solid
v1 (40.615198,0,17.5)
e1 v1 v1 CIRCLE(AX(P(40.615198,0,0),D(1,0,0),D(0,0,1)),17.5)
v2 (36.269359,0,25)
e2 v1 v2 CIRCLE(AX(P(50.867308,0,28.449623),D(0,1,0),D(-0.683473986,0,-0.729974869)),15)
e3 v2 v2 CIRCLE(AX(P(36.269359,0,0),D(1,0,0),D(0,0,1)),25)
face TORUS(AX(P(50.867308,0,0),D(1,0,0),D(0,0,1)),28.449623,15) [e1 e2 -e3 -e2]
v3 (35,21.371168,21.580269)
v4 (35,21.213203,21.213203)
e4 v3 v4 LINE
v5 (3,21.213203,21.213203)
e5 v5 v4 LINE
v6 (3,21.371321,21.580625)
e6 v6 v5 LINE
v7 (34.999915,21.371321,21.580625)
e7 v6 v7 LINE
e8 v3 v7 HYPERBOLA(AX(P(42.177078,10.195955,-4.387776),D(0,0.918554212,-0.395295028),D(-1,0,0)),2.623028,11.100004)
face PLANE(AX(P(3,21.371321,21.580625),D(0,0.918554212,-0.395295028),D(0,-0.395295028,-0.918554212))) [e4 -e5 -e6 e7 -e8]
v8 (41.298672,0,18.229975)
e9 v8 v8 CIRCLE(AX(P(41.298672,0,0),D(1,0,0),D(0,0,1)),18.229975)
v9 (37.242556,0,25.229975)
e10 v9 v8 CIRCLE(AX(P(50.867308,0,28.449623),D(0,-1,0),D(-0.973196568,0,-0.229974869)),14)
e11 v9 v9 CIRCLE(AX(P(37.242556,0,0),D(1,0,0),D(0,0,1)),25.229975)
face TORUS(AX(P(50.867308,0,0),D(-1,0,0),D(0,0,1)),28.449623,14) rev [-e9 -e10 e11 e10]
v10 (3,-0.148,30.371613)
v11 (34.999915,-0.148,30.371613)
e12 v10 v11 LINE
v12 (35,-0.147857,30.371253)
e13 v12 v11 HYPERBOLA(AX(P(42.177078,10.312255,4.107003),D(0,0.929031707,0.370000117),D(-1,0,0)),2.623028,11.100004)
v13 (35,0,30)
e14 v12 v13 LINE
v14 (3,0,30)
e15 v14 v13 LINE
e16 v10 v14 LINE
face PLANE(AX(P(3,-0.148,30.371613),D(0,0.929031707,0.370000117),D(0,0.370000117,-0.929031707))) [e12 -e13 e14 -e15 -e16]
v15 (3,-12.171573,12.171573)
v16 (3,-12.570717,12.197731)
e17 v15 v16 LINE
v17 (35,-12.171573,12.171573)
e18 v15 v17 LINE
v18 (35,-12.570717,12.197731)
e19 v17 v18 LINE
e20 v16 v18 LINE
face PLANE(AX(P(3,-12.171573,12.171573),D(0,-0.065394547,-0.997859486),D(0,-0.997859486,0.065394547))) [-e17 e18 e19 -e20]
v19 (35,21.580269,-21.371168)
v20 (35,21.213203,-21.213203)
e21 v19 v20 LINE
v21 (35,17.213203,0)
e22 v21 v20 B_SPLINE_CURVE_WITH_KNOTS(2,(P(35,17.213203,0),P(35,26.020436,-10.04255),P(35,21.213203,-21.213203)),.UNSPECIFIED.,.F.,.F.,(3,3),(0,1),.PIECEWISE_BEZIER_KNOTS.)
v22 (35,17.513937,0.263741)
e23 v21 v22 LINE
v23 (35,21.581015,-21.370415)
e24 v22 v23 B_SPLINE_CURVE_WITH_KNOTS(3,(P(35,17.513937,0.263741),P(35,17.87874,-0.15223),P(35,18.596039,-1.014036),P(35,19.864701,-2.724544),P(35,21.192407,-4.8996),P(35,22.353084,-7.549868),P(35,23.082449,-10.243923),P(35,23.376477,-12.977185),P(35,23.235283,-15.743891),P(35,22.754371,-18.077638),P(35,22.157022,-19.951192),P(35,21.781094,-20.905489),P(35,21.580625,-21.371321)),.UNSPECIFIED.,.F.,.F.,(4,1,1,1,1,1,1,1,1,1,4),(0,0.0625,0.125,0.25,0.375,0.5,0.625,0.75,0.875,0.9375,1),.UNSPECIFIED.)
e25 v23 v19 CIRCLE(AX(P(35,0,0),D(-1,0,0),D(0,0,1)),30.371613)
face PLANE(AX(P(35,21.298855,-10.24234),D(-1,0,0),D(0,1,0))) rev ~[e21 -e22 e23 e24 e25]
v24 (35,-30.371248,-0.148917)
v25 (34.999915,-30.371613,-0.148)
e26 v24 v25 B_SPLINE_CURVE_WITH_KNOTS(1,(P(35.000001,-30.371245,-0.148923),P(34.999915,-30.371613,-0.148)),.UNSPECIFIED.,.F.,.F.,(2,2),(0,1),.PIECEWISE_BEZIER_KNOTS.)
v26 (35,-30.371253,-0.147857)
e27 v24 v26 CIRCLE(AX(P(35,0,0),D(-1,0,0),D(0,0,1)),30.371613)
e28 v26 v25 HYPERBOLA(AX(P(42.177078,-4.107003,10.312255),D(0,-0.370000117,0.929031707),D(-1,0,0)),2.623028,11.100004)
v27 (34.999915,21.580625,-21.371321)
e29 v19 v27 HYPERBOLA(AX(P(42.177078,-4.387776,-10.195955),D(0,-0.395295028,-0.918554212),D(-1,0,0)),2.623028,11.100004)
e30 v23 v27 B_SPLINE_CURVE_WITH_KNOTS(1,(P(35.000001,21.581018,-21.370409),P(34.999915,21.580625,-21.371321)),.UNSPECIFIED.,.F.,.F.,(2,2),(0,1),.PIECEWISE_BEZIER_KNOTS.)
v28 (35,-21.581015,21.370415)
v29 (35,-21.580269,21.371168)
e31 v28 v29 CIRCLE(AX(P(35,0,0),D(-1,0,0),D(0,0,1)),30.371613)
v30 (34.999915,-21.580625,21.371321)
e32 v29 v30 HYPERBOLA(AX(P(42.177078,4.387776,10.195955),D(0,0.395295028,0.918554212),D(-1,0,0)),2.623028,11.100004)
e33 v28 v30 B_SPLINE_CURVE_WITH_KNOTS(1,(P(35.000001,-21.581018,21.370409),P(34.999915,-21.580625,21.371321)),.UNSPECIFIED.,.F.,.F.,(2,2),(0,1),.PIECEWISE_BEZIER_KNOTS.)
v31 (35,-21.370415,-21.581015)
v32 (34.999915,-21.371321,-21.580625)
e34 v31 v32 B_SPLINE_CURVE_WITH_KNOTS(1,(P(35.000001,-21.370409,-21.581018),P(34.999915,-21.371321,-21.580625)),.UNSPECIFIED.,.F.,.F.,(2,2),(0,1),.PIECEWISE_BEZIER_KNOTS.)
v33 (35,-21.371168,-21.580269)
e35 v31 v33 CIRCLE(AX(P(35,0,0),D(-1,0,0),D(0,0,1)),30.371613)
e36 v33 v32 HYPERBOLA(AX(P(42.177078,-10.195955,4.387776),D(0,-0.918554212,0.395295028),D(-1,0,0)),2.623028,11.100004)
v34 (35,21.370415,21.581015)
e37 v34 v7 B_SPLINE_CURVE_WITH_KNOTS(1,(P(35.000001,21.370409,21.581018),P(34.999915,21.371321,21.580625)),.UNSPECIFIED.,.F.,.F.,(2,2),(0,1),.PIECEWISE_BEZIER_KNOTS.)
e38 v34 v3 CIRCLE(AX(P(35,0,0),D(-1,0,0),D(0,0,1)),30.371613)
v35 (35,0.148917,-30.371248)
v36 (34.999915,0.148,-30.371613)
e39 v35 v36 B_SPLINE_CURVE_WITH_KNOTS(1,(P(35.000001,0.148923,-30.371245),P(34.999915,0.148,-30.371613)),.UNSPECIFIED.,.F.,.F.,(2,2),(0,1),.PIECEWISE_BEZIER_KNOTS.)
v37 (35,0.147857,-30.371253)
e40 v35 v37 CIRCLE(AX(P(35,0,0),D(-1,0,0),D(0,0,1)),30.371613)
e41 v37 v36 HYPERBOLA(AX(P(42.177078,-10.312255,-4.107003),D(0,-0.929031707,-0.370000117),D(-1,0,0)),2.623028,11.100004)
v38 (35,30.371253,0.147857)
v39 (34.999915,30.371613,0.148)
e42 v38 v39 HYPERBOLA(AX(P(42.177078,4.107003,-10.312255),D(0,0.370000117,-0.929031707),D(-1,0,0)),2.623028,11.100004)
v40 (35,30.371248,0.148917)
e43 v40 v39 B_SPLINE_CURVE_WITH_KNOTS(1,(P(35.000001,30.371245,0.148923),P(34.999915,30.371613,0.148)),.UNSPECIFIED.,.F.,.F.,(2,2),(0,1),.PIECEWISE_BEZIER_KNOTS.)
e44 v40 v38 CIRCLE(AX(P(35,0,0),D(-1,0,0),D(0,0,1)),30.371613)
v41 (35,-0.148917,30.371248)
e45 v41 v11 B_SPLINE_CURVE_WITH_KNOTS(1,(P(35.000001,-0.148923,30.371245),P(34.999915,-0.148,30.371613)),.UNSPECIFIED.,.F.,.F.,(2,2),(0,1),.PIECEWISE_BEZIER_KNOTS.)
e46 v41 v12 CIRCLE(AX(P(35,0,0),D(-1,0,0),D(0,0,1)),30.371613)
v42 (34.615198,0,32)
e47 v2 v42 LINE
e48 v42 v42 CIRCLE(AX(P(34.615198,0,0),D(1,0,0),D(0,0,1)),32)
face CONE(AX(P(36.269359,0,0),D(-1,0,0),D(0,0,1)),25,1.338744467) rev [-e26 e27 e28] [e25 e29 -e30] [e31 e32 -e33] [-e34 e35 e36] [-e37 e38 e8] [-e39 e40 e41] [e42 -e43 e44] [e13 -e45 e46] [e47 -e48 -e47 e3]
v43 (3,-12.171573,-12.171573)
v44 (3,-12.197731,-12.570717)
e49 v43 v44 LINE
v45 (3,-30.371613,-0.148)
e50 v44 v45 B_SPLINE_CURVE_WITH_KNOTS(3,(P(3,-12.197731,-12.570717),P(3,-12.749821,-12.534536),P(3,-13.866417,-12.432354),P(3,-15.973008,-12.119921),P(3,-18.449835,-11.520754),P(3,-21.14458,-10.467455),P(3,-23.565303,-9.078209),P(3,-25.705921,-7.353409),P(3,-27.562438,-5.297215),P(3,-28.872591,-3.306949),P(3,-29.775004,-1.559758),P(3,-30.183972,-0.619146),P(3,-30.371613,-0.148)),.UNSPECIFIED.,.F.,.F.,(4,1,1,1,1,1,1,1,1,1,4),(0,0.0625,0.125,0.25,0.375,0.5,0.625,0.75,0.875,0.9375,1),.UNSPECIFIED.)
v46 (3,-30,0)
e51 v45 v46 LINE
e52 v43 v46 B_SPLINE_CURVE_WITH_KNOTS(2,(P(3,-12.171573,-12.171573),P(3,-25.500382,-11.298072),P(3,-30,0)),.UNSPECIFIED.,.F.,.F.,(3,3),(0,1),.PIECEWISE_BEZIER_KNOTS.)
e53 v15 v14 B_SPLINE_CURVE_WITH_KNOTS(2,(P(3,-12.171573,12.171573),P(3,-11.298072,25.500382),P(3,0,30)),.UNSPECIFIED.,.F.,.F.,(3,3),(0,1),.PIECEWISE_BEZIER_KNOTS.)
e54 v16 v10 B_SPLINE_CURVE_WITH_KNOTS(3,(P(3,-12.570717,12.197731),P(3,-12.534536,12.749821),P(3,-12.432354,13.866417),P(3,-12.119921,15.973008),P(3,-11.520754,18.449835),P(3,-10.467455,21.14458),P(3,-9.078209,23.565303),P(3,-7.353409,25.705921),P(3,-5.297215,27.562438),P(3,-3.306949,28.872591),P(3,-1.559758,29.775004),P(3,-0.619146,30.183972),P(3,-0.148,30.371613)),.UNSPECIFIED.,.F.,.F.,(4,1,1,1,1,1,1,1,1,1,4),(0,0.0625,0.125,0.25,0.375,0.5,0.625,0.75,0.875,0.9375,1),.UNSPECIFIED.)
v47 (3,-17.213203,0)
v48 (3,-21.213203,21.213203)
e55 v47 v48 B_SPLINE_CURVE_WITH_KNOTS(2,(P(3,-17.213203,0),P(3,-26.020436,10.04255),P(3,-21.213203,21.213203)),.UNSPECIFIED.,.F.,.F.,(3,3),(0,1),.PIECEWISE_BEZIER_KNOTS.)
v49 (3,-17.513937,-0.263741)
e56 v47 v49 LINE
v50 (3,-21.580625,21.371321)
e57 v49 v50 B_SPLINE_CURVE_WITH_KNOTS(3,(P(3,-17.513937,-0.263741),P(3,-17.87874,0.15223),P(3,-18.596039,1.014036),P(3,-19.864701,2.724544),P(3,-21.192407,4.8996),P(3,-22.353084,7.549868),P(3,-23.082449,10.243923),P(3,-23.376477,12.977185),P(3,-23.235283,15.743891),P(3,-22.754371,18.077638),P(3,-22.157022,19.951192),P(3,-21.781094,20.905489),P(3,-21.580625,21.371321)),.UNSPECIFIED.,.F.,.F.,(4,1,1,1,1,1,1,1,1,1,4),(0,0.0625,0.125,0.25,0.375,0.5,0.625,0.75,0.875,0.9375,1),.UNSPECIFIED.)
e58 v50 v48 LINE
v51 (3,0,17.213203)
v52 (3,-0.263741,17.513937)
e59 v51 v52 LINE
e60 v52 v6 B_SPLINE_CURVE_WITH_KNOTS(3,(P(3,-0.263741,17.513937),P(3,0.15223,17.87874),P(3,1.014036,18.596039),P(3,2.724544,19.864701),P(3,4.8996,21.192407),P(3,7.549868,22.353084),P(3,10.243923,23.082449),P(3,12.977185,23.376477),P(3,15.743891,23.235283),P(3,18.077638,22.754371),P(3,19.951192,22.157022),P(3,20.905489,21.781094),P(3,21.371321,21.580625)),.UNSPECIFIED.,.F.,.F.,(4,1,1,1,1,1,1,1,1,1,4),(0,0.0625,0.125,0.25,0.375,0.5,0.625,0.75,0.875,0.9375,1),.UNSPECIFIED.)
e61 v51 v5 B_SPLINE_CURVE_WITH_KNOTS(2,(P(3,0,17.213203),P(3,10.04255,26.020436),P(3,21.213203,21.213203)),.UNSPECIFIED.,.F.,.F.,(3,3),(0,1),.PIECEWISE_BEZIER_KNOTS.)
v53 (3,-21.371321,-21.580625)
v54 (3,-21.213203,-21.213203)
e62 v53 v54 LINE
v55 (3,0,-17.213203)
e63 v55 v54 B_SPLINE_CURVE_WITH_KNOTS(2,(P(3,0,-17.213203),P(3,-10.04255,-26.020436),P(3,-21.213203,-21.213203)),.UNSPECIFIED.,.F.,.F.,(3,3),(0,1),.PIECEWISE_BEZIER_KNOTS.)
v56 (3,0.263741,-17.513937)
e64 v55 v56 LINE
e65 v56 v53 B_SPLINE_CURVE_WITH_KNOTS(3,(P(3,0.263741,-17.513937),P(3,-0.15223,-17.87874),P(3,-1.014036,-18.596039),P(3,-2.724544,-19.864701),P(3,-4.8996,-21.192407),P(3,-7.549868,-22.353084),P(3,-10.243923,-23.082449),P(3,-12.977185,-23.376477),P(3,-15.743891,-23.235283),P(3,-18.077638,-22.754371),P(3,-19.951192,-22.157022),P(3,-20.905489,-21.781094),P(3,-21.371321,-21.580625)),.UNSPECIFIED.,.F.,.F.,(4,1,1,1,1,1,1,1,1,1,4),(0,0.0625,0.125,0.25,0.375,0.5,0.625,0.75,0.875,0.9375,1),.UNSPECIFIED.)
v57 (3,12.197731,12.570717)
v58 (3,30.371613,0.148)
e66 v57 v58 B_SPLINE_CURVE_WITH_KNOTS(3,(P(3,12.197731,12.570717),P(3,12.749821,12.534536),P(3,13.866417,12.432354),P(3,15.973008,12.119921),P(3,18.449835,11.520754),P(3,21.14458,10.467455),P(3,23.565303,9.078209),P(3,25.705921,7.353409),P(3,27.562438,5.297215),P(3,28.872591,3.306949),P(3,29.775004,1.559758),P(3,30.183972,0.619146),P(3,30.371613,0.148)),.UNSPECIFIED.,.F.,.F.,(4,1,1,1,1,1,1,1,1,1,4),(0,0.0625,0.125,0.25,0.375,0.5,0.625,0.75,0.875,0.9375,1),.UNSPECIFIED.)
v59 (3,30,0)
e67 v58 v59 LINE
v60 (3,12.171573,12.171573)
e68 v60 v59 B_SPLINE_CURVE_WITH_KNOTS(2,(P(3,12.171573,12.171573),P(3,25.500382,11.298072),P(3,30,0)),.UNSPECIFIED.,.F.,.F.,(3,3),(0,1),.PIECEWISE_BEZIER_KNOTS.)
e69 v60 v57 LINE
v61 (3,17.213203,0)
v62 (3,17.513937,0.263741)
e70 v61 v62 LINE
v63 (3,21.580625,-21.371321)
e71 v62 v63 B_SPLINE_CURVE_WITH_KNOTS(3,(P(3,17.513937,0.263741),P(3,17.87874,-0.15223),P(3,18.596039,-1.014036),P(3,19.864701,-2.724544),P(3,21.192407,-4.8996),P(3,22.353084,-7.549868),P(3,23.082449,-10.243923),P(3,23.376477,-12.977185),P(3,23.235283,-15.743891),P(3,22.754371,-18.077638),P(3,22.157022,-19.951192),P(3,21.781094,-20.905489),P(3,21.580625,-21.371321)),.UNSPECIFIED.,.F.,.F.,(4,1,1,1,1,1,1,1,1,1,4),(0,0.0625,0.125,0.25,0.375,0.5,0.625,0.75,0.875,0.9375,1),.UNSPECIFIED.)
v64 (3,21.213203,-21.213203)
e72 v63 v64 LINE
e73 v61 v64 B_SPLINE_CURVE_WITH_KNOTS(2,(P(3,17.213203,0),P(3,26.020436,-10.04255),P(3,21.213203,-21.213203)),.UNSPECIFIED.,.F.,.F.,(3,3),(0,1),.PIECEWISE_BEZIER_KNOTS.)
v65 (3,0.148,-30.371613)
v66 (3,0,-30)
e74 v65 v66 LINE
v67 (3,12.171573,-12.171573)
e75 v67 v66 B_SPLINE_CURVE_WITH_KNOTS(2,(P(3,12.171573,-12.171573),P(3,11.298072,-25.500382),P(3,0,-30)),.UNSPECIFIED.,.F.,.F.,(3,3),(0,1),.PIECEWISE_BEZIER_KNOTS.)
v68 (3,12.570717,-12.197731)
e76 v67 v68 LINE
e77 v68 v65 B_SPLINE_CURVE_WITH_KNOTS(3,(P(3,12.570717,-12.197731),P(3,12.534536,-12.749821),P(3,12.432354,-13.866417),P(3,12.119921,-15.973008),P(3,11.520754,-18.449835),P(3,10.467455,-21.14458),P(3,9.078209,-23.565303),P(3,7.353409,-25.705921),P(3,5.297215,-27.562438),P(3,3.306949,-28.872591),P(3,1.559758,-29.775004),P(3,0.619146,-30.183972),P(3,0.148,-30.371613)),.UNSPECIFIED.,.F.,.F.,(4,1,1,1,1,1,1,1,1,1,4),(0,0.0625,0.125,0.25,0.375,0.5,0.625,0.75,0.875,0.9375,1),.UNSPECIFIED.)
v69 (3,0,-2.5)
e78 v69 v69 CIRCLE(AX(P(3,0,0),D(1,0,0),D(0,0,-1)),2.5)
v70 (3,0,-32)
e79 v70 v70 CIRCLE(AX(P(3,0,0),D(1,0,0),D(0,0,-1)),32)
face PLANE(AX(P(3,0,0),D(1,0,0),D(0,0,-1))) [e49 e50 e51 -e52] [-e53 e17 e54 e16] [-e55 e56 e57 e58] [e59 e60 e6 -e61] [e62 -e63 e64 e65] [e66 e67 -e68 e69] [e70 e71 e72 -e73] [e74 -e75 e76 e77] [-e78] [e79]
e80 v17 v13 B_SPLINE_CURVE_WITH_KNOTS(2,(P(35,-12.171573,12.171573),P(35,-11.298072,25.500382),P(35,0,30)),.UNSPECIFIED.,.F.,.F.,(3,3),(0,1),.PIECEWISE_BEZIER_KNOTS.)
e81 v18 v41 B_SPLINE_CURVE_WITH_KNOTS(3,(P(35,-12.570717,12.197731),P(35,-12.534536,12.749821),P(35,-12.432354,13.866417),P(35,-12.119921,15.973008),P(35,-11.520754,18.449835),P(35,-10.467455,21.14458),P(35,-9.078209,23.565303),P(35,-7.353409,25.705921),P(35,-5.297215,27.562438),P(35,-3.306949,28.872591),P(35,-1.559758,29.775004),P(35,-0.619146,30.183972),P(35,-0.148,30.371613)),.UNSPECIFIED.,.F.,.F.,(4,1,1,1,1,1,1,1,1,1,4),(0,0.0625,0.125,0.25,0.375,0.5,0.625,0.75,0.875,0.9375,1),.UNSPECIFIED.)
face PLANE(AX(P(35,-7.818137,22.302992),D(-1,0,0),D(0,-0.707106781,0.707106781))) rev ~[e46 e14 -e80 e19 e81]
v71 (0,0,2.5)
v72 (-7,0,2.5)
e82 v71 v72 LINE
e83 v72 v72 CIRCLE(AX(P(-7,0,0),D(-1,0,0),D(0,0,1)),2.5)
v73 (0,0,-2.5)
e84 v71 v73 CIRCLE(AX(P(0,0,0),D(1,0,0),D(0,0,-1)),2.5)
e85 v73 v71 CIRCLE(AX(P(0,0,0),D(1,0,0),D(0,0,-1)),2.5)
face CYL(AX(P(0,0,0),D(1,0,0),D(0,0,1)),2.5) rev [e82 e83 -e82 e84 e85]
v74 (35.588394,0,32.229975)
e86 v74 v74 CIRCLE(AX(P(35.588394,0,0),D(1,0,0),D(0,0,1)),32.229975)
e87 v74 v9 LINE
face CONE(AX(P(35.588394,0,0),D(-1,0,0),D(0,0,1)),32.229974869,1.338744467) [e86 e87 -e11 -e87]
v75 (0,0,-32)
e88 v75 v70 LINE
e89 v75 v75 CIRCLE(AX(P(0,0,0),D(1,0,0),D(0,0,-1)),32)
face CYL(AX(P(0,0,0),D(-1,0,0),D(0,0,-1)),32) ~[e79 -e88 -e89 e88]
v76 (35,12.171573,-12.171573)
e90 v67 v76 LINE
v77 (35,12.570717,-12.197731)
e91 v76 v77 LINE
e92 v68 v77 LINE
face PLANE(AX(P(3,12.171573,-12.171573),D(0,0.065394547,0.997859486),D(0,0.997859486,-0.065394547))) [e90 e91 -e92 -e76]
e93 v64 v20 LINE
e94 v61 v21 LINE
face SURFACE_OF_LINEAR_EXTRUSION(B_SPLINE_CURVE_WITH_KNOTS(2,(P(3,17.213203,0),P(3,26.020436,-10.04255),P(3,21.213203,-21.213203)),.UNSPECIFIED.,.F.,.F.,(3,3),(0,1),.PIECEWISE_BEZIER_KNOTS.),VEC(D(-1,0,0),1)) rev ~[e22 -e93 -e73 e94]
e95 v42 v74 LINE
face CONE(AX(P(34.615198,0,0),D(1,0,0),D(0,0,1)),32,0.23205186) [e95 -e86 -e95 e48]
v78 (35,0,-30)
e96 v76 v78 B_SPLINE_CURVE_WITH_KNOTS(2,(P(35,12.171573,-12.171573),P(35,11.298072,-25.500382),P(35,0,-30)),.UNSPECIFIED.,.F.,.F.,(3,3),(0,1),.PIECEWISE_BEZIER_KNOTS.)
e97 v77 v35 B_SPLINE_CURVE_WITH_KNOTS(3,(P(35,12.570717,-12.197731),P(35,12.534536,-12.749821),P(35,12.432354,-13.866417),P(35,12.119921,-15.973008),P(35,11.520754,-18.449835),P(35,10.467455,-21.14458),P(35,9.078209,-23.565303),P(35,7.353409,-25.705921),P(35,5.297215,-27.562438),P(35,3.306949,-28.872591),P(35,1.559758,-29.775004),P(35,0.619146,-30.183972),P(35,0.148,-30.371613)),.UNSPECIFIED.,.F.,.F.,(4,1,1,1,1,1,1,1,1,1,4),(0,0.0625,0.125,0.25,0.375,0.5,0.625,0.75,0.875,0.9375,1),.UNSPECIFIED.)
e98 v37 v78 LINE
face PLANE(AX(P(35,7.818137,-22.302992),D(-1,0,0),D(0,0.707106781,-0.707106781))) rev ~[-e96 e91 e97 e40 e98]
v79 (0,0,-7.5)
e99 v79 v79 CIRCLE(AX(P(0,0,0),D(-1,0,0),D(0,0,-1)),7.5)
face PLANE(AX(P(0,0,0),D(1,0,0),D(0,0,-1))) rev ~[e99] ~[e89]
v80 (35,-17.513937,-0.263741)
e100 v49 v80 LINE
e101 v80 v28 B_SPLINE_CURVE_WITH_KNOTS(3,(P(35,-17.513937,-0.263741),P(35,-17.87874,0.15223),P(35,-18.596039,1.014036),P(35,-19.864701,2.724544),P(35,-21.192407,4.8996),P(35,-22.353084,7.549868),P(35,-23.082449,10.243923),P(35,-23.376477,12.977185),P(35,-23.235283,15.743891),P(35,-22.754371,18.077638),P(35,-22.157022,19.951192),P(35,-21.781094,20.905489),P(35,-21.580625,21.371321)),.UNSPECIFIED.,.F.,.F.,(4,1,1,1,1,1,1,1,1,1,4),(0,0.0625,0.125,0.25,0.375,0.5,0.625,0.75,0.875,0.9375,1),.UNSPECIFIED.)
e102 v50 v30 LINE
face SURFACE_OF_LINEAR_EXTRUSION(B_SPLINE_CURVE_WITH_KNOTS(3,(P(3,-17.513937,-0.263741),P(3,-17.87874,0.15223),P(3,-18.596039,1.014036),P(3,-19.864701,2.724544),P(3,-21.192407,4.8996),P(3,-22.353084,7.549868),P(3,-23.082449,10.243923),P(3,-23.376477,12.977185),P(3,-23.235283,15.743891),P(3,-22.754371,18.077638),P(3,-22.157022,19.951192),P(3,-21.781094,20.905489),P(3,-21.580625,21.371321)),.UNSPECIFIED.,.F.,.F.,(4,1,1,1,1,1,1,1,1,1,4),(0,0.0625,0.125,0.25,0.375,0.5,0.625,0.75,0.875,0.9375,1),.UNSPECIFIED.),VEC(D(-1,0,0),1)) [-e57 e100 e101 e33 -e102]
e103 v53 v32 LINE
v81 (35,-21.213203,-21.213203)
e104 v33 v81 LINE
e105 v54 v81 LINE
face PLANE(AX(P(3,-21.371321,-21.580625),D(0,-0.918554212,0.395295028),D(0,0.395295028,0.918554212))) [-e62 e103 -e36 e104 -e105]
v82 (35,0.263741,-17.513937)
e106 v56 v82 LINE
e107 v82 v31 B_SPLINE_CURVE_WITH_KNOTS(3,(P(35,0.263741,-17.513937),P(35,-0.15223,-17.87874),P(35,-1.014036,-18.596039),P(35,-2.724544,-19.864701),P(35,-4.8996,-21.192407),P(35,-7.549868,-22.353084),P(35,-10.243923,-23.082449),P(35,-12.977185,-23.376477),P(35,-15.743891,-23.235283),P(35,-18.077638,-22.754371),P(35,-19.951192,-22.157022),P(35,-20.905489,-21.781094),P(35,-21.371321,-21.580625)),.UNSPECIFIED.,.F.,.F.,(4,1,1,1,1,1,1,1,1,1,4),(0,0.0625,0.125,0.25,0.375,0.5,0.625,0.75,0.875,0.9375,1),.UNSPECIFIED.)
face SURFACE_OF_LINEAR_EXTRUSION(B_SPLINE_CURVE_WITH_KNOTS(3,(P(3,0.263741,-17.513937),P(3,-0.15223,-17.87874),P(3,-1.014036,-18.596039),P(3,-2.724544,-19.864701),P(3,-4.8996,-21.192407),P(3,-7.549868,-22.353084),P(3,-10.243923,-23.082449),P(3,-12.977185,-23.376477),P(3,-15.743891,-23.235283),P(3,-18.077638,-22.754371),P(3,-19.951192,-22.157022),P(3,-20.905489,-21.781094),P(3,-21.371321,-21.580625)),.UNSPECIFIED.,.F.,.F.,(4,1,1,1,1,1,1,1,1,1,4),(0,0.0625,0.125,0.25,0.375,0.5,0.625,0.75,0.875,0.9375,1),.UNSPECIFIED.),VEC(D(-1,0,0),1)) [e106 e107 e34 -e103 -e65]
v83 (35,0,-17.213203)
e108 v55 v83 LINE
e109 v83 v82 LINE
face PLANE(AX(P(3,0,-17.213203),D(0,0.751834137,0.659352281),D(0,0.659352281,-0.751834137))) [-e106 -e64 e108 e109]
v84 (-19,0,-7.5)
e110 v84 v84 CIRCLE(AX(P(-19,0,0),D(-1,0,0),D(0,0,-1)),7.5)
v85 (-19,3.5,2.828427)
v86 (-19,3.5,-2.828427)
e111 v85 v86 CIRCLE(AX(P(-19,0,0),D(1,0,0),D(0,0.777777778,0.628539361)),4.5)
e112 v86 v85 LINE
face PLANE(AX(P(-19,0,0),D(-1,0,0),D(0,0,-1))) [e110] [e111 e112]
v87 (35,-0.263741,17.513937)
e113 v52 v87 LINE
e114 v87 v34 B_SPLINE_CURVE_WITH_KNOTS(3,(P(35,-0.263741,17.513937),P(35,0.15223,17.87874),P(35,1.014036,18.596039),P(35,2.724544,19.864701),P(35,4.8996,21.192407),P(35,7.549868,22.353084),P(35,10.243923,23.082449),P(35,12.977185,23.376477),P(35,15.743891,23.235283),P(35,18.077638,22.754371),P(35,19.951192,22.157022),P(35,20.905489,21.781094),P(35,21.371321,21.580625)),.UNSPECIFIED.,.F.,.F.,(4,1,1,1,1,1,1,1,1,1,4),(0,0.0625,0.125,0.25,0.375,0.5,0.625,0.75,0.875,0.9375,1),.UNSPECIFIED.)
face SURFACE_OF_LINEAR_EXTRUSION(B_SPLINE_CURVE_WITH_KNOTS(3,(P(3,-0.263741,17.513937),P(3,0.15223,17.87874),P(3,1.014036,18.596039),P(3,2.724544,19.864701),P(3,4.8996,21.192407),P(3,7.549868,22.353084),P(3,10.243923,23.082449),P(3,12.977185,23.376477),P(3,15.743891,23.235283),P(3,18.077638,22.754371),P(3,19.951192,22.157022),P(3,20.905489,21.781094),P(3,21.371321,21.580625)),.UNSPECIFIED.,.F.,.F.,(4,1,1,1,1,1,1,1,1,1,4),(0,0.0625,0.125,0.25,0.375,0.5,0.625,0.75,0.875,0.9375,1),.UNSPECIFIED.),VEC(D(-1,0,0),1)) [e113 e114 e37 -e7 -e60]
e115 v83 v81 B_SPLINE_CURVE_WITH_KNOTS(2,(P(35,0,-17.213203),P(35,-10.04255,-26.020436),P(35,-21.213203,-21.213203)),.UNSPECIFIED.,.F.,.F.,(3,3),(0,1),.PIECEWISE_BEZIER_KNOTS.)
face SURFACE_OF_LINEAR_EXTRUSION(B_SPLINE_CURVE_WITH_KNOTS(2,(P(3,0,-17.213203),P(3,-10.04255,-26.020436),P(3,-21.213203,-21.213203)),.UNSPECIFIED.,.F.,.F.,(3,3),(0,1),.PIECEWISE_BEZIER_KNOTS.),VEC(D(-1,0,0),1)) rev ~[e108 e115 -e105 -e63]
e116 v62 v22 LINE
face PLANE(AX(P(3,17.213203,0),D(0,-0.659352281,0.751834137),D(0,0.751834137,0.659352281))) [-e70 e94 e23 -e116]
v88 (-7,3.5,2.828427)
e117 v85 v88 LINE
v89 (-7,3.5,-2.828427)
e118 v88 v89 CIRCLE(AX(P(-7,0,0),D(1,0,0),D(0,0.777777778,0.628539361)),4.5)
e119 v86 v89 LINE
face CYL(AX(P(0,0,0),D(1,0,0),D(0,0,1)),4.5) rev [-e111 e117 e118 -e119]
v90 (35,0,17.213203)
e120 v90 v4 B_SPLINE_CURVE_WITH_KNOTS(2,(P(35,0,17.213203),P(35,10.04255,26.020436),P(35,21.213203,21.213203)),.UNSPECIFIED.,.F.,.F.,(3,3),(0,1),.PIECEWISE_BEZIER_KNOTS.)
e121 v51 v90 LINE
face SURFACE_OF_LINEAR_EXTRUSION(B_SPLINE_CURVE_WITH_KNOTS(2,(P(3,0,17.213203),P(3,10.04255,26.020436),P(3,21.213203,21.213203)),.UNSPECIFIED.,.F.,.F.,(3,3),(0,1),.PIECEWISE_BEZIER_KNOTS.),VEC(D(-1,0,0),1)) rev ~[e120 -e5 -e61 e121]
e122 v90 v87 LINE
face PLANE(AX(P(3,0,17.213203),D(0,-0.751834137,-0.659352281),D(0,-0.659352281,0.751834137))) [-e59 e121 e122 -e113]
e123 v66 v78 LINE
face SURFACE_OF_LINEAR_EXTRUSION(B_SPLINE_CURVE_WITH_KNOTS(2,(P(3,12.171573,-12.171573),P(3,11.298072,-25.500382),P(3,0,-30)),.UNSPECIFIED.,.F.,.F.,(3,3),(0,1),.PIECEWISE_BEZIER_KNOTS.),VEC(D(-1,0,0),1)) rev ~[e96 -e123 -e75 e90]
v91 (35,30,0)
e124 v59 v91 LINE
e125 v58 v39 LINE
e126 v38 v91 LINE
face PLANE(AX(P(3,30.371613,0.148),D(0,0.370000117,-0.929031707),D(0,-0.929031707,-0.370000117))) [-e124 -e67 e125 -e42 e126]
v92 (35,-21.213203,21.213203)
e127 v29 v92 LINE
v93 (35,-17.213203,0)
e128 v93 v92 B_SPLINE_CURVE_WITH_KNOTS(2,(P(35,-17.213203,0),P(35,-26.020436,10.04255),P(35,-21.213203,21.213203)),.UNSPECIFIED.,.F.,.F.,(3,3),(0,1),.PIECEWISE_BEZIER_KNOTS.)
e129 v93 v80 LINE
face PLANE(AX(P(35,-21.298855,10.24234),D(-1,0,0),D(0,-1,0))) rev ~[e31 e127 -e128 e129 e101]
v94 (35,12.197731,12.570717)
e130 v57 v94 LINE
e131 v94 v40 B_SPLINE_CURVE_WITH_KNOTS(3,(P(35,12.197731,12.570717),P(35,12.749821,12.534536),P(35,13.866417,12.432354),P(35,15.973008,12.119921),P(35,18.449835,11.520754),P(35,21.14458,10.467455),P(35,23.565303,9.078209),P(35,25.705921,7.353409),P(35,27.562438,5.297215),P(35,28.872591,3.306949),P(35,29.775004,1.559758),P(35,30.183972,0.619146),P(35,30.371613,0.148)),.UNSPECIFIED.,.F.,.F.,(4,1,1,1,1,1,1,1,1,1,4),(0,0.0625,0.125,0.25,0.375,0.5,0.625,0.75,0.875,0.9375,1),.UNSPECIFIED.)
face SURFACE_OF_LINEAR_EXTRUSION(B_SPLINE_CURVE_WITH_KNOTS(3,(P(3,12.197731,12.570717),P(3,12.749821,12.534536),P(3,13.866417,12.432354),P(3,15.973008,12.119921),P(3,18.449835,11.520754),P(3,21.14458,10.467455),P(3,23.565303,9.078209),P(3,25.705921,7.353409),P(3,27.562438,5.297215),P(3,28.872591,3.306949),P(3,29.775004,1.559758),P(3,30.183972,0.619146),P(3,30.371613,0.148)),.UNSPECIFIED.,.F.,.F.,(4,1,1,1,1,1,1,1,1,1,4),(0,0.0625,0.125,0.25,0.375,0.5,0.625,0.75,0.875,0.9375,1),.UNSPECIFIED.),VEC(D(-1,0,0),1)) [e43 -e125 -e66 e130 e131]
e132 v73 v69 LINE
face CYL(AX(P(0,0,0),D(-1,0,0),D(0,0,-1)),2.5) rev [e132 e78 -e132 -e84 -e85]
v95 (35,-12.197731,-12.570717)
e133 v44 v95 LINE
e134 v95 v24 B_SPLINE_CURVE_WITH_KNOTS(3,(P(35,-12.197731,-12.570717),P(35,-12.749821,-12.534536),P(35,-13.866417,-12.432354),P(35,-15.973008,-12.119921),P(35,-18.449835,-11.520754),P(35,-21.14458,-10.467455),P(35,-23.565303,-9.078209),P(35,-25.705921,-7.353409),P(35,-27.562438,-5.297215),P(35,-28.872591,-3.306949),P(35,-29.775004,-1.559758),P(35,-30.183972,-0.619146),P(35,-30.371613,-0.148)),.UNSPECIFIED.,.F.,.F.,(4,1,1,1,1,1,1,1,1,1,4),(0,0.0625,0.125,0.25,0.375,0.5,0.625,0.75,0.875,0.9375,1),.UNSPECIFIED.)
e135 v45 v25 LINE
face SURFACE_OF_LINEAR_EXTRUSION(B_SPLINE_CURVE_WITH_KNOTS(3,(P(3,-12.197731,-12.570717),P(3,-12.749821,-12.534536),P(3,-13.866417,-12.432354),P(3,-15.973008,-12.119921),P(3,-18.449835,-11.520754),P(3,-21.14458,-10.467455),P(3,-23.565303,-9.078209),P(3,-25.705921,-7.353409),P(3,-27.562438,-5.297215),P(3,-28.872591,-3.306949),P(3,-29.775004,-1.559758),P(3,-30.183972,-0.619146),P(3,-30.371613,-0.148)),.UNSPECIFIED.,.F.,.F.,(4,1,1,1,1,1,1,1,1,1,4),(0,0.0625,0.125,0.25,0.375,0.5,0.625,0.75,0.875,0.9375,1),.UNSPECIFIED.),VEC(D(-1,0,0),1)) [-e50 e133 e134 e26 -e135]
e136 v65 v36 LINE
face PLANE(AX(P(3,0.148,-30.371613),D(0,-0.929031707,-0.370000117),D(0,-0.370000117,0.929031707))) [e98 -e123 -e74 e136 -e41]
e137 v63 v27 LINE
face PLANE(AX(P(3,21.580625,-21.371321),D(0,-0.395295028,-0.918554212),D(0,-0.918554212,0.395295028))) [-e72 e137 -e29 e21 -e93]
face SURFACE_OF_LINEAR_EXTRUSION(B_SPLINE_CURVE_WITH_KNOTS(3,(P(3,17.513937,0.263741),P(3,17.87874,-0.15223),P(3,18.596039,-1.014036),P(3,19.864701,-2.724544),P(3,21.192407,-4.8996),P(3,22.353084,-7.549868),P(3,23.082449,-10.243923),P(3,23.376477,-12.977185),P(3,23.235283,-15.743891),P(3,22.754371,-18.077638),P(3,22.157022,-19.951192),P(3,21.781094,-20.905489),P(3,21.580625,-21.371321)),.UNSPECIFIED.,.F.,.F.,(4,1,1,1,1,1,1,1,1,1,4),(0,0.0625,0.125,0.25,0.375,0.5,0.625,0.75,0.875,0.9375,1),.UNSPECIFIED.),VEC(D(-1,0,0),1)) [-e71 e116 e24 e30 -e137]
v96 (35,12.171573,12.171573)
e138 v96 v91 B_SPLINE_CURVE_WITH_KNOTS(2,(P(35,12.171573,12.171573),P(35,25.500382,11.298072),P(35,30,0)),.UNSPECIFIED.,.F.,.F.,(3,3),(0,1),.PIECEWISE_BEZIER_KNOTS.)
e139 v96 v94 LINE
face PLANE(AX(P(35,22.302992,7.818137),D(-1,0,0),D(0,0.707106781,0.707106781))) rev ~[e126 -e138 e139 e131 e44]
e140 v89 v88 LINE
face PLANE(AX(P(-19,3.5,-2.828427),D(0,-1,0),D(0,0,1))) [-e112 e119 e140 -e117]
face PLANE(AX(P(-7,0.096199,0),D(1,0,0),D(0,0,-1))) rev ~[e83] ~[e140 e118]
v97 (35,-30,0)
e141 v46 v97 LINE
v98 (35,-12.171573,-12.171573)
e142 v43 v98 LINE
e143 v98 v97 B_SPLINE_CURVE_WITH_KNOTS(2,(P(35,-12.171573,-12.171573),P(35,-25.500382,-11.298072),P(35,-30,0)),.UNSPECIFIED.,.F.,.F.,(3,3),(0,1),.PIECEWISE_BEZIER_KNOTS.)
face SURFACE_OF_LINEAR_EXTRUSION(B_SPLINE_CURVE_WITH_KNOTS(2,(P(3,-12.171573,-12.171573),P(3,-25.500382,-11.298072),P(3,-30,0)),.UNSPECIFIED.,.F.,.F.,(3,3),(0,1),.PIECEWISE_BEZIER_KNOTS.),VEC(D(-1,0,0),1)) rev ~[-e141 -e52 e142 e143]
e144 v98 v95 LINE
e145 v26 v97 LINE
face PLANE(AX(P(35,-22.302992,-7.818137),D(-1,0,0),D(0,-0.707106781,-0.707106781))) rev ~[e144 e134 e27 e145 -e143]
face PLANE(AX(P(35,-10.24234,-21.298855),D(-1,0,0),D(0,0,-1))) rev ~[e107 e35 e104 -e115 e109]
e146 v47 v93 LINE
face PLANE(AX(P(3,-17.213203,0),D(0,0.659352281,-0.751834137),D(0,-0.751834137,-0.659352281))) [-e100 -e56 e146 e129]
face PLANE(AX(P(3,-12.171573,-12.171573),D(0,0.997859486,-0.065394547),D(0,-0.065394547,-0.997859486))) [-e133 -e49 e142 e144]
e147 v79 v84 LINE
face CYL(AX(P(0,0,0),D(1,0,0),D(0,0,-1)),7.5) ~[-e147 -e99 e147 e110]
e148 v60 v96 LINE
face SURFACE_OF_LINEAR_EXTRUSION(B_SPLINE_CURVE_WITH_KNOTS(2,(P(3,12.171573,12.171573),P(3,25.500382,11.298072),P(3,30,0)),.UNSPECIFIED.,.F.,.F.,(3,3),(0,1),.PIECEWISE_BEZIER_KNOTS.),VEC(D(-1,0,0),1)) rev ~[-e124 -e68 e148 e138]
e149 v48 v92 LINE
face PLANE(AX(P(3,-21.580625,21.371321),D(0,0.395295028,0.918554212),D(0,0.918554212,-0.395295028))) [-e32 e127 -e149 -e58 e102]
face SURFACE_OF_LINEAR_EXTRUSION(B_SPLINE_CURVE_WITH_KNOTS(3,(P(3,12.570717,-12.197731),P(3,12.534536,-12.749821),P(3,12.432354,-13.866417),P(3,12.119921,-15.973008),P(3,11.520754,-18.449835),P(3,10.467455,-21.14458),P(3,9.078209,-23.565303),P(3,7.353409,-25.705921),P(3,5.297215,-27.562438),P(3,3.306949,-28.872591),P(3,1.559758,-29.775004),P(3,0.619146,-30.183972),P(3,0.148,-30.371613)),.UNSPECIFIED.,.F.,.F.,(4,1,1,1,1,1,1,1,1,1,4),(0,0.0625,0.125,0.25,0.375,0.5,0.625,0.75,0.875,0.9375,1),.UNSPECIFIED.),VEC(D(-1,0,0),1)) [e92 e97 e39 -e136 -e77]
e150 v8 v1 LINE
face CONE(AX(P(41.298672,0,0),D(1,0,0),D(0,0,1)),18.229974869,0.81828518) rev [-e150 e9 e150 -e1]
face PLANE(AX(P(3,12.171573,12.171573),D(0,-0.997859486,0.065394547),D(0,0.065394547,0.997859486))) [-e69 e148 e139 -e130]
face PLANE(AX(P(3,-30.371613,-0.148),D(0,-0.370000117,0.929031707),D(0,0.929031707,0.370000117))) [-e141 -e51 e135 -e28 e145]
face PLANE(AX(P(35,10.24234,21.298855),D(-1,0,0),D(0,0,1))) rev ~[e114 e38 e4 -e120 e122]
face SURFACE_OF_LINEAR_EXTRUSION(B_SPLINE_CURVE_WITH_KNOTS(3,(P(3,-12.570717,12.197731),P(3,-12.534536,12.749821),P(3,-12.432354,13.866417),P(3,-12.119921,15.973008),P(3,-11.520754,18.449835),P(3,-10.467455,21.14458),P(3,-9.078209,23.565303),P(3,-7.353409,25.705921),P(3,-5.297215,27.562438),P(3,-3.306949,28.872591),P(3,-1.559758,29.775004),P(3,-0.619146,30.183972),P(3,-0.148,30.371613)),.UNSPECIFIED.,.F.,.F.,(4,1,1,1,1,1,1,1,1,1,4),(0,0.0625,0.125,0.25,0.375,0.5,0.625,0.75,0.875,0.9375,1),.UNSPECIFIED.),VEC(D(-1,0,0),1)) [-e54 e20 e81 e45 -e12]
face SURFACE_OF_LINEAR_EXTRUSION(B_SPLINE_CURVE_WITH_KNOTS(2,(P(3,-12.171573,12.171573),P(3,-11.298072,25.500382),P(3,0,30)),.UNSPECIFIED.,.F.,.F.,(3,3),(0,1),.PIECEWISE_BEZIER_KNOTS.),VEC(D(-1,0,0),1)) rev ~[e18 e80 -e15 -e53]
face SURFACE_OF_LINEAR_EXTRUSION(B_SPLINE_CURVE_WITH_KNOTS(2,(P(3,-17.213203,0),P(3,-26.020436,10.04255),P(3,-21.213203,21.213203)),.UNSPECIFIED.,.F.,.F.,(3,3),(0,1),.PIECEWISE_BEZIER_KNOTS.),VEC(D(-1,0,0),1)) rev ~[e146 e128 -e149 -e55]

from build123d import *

# Parameters (mm, degrees)
SKETCH1_R           = 32
SKETCH1_R_2         = 2.5
BOSS_EXTRUDE1_DEPTH = 3
SKETCH2_R           = 7.5
SKETCH2_R_2         = 4.5
BOSS_EXTRUDE2_DEPTH = 19
BOSS_EXTRUDE3_REACH = 52.319
SKETCH3_W           = 5.65685425
SKETCH3_H           = 1
BOSS_EXTRUDE4_DEPTH = 32
CIRPATTERN1_COUNT   = 8
SKETCH6_R           = 2.5
BOSS_EXTRUDE5_DEPTH = 7


with BuildPart() as part:
    # Sketch1 → Boss-Extrude1 (new body)
    with BuildSketch(Plane(origin=(0, 0, 0), x_dir=(0, 0, -1), z_dir=(1, 0, 0))):
        Circle(SKETCH1_R)
        Circle(SKETCH1_R_2, mode=Mode.SUBTRACT)
    extrude(amount=BOSS_EXTRUDE1_DEPTH)

    # Sketch2 → Boss-Extrude2 (add)
    with BuildSketch(Plane.ZY):
        with Locations(Location((0, 0, 0), (0, 0, 180))):
            Circle(SKETCH2_R)
        Circle(SKETCH2_R_2, mode=Mode.SUBTRACT)
    extrude(amount=BOSS_EXTRUDE2_DEPTH)

    # Sketch3 → Boss-Extrude3 (add, up to next)
    with BuildSketch(Plane.ZY.offset(19), mode=Mode.PRIVATE) as boss_extrude3_sk1:
        with Locations((0, 4)):
            Rectangle(SKETCH3_W, SKETCH3_H)
    boss_extrude3_tool1 = extrude(boss_extrude3_sk1.sketch, amount=-BOSS_EXTRUDE3_REACH, mode=Mode.PRIVATE) - part.part
    add(boss_extrude3_tool1.solids().sort_by_distance((-19, 4, 0))[0])

    # Sketch4 → Boss-Extrude4 (add)
    with BuildSketch(Plane(origin=(3, 0, 0), x_dir=(0, 0, -1), z_dir=(1, 0, 0))):
        with BuildLine():
            Line((-21.58062512, 21.371321447), (-21.213203436, 21.213203436))
            add(Edge.make_bspline(
                [(-17.213203436, 0), (-26.020436099, 10.042549877), (-21.213203436, 21.213203436)],
                knots=[0, 0, 0, 1, 1, 1], degree=2))
            Line((-17.213203436, 0), (-17.51393709, -0.263740912))
            add(Edge.make_bspline(
                [(-17.51393709, -0.263740912), (-17.878739931, 0.152229786), (-18.596038958, 1.014035776), (-19.864700537, 2.724543787), (-21.192406768, 4.899599509), (-22.353083802, 7.549867519), (-23.082449138, 10.243922617), (-23.376476666, 12.977185386), (-23.235283471, 15.743890699), (-22.754370885, 18.077638215), (-22.157022424, 19.951191708), (-21.781093763, 20.905488834), (-21.58062512, 21.371321447)],
                knots=[0, 0, 0, 0, 0.0625, 0.125, 0.25, 0.375, 0.5, 0.625, 0.75, 0.875, 0.9375, 1, 1, 1, 1], degree=3))
        make_face()
    boss_extrude4 = extrude(amount=BOSS_EXTRUDE4_DEPTH)

    # CirPattern1: Boss-Extrude4 ×8 about axis
    cirpattern1_axis = Axis((3, 0, 0), (-1, 0, 0))
    for i in range(1, CIRPATTERN1_COUNT):
        add(boss_extrude4.rotate(cirpattern1_axis, i * 360 / CIRPATTERN1_COUNT))

    # Sketch5 → Revolve1 (revolve)
    with BuildSketch(Plane.XY, mode=Mode.PRIVATE) as revolve1_sk:
        with BuildLine():
            Line((36.269359104, 25), (34.615197821, 32))
            Line((34.615197821, 32), (35.588394389, 32.229974869))
            Line((35.588394389, 32.229974869), (37.242555672, 25.229974869))
            ThreePointArc((37.242555672, 25.229974869), (38.753955113, 21.430599527), (41.298671808, 18.229974869))
            Line((41.298671808, 18.229974869), (40.615197821, 17.5))
            ThreePointArc((40.615197821, 17.5), (37.888715648, 20.929240705), (36.269359104, 25))
        make_face()
    revolve(revolve1_sk.sketch.rotate(Axis((-14.357829548, 0, 0), (1, 0, 0)), 90), axis=Axis((-14.357829548, 0, 0), (1, 0, 0)))

    # Sketch6 → Boss-Extrude5 (add)
    with BuildSketch(Plane.ZY):
        with BuildLine():
            Line((-2.828427125, 3.5), (2.828427125, 3.5))
            ThreePointArc((2.828427125, 3.5), (0, -4.5), (-2.828427125, 3.5))
        make_face()
        Circle(SKETCH6_R, mode=Mode.SUBTRACT)
    extrude(amount=BOSS_EXTRUDE5_DEPTH)


solid = part.part
